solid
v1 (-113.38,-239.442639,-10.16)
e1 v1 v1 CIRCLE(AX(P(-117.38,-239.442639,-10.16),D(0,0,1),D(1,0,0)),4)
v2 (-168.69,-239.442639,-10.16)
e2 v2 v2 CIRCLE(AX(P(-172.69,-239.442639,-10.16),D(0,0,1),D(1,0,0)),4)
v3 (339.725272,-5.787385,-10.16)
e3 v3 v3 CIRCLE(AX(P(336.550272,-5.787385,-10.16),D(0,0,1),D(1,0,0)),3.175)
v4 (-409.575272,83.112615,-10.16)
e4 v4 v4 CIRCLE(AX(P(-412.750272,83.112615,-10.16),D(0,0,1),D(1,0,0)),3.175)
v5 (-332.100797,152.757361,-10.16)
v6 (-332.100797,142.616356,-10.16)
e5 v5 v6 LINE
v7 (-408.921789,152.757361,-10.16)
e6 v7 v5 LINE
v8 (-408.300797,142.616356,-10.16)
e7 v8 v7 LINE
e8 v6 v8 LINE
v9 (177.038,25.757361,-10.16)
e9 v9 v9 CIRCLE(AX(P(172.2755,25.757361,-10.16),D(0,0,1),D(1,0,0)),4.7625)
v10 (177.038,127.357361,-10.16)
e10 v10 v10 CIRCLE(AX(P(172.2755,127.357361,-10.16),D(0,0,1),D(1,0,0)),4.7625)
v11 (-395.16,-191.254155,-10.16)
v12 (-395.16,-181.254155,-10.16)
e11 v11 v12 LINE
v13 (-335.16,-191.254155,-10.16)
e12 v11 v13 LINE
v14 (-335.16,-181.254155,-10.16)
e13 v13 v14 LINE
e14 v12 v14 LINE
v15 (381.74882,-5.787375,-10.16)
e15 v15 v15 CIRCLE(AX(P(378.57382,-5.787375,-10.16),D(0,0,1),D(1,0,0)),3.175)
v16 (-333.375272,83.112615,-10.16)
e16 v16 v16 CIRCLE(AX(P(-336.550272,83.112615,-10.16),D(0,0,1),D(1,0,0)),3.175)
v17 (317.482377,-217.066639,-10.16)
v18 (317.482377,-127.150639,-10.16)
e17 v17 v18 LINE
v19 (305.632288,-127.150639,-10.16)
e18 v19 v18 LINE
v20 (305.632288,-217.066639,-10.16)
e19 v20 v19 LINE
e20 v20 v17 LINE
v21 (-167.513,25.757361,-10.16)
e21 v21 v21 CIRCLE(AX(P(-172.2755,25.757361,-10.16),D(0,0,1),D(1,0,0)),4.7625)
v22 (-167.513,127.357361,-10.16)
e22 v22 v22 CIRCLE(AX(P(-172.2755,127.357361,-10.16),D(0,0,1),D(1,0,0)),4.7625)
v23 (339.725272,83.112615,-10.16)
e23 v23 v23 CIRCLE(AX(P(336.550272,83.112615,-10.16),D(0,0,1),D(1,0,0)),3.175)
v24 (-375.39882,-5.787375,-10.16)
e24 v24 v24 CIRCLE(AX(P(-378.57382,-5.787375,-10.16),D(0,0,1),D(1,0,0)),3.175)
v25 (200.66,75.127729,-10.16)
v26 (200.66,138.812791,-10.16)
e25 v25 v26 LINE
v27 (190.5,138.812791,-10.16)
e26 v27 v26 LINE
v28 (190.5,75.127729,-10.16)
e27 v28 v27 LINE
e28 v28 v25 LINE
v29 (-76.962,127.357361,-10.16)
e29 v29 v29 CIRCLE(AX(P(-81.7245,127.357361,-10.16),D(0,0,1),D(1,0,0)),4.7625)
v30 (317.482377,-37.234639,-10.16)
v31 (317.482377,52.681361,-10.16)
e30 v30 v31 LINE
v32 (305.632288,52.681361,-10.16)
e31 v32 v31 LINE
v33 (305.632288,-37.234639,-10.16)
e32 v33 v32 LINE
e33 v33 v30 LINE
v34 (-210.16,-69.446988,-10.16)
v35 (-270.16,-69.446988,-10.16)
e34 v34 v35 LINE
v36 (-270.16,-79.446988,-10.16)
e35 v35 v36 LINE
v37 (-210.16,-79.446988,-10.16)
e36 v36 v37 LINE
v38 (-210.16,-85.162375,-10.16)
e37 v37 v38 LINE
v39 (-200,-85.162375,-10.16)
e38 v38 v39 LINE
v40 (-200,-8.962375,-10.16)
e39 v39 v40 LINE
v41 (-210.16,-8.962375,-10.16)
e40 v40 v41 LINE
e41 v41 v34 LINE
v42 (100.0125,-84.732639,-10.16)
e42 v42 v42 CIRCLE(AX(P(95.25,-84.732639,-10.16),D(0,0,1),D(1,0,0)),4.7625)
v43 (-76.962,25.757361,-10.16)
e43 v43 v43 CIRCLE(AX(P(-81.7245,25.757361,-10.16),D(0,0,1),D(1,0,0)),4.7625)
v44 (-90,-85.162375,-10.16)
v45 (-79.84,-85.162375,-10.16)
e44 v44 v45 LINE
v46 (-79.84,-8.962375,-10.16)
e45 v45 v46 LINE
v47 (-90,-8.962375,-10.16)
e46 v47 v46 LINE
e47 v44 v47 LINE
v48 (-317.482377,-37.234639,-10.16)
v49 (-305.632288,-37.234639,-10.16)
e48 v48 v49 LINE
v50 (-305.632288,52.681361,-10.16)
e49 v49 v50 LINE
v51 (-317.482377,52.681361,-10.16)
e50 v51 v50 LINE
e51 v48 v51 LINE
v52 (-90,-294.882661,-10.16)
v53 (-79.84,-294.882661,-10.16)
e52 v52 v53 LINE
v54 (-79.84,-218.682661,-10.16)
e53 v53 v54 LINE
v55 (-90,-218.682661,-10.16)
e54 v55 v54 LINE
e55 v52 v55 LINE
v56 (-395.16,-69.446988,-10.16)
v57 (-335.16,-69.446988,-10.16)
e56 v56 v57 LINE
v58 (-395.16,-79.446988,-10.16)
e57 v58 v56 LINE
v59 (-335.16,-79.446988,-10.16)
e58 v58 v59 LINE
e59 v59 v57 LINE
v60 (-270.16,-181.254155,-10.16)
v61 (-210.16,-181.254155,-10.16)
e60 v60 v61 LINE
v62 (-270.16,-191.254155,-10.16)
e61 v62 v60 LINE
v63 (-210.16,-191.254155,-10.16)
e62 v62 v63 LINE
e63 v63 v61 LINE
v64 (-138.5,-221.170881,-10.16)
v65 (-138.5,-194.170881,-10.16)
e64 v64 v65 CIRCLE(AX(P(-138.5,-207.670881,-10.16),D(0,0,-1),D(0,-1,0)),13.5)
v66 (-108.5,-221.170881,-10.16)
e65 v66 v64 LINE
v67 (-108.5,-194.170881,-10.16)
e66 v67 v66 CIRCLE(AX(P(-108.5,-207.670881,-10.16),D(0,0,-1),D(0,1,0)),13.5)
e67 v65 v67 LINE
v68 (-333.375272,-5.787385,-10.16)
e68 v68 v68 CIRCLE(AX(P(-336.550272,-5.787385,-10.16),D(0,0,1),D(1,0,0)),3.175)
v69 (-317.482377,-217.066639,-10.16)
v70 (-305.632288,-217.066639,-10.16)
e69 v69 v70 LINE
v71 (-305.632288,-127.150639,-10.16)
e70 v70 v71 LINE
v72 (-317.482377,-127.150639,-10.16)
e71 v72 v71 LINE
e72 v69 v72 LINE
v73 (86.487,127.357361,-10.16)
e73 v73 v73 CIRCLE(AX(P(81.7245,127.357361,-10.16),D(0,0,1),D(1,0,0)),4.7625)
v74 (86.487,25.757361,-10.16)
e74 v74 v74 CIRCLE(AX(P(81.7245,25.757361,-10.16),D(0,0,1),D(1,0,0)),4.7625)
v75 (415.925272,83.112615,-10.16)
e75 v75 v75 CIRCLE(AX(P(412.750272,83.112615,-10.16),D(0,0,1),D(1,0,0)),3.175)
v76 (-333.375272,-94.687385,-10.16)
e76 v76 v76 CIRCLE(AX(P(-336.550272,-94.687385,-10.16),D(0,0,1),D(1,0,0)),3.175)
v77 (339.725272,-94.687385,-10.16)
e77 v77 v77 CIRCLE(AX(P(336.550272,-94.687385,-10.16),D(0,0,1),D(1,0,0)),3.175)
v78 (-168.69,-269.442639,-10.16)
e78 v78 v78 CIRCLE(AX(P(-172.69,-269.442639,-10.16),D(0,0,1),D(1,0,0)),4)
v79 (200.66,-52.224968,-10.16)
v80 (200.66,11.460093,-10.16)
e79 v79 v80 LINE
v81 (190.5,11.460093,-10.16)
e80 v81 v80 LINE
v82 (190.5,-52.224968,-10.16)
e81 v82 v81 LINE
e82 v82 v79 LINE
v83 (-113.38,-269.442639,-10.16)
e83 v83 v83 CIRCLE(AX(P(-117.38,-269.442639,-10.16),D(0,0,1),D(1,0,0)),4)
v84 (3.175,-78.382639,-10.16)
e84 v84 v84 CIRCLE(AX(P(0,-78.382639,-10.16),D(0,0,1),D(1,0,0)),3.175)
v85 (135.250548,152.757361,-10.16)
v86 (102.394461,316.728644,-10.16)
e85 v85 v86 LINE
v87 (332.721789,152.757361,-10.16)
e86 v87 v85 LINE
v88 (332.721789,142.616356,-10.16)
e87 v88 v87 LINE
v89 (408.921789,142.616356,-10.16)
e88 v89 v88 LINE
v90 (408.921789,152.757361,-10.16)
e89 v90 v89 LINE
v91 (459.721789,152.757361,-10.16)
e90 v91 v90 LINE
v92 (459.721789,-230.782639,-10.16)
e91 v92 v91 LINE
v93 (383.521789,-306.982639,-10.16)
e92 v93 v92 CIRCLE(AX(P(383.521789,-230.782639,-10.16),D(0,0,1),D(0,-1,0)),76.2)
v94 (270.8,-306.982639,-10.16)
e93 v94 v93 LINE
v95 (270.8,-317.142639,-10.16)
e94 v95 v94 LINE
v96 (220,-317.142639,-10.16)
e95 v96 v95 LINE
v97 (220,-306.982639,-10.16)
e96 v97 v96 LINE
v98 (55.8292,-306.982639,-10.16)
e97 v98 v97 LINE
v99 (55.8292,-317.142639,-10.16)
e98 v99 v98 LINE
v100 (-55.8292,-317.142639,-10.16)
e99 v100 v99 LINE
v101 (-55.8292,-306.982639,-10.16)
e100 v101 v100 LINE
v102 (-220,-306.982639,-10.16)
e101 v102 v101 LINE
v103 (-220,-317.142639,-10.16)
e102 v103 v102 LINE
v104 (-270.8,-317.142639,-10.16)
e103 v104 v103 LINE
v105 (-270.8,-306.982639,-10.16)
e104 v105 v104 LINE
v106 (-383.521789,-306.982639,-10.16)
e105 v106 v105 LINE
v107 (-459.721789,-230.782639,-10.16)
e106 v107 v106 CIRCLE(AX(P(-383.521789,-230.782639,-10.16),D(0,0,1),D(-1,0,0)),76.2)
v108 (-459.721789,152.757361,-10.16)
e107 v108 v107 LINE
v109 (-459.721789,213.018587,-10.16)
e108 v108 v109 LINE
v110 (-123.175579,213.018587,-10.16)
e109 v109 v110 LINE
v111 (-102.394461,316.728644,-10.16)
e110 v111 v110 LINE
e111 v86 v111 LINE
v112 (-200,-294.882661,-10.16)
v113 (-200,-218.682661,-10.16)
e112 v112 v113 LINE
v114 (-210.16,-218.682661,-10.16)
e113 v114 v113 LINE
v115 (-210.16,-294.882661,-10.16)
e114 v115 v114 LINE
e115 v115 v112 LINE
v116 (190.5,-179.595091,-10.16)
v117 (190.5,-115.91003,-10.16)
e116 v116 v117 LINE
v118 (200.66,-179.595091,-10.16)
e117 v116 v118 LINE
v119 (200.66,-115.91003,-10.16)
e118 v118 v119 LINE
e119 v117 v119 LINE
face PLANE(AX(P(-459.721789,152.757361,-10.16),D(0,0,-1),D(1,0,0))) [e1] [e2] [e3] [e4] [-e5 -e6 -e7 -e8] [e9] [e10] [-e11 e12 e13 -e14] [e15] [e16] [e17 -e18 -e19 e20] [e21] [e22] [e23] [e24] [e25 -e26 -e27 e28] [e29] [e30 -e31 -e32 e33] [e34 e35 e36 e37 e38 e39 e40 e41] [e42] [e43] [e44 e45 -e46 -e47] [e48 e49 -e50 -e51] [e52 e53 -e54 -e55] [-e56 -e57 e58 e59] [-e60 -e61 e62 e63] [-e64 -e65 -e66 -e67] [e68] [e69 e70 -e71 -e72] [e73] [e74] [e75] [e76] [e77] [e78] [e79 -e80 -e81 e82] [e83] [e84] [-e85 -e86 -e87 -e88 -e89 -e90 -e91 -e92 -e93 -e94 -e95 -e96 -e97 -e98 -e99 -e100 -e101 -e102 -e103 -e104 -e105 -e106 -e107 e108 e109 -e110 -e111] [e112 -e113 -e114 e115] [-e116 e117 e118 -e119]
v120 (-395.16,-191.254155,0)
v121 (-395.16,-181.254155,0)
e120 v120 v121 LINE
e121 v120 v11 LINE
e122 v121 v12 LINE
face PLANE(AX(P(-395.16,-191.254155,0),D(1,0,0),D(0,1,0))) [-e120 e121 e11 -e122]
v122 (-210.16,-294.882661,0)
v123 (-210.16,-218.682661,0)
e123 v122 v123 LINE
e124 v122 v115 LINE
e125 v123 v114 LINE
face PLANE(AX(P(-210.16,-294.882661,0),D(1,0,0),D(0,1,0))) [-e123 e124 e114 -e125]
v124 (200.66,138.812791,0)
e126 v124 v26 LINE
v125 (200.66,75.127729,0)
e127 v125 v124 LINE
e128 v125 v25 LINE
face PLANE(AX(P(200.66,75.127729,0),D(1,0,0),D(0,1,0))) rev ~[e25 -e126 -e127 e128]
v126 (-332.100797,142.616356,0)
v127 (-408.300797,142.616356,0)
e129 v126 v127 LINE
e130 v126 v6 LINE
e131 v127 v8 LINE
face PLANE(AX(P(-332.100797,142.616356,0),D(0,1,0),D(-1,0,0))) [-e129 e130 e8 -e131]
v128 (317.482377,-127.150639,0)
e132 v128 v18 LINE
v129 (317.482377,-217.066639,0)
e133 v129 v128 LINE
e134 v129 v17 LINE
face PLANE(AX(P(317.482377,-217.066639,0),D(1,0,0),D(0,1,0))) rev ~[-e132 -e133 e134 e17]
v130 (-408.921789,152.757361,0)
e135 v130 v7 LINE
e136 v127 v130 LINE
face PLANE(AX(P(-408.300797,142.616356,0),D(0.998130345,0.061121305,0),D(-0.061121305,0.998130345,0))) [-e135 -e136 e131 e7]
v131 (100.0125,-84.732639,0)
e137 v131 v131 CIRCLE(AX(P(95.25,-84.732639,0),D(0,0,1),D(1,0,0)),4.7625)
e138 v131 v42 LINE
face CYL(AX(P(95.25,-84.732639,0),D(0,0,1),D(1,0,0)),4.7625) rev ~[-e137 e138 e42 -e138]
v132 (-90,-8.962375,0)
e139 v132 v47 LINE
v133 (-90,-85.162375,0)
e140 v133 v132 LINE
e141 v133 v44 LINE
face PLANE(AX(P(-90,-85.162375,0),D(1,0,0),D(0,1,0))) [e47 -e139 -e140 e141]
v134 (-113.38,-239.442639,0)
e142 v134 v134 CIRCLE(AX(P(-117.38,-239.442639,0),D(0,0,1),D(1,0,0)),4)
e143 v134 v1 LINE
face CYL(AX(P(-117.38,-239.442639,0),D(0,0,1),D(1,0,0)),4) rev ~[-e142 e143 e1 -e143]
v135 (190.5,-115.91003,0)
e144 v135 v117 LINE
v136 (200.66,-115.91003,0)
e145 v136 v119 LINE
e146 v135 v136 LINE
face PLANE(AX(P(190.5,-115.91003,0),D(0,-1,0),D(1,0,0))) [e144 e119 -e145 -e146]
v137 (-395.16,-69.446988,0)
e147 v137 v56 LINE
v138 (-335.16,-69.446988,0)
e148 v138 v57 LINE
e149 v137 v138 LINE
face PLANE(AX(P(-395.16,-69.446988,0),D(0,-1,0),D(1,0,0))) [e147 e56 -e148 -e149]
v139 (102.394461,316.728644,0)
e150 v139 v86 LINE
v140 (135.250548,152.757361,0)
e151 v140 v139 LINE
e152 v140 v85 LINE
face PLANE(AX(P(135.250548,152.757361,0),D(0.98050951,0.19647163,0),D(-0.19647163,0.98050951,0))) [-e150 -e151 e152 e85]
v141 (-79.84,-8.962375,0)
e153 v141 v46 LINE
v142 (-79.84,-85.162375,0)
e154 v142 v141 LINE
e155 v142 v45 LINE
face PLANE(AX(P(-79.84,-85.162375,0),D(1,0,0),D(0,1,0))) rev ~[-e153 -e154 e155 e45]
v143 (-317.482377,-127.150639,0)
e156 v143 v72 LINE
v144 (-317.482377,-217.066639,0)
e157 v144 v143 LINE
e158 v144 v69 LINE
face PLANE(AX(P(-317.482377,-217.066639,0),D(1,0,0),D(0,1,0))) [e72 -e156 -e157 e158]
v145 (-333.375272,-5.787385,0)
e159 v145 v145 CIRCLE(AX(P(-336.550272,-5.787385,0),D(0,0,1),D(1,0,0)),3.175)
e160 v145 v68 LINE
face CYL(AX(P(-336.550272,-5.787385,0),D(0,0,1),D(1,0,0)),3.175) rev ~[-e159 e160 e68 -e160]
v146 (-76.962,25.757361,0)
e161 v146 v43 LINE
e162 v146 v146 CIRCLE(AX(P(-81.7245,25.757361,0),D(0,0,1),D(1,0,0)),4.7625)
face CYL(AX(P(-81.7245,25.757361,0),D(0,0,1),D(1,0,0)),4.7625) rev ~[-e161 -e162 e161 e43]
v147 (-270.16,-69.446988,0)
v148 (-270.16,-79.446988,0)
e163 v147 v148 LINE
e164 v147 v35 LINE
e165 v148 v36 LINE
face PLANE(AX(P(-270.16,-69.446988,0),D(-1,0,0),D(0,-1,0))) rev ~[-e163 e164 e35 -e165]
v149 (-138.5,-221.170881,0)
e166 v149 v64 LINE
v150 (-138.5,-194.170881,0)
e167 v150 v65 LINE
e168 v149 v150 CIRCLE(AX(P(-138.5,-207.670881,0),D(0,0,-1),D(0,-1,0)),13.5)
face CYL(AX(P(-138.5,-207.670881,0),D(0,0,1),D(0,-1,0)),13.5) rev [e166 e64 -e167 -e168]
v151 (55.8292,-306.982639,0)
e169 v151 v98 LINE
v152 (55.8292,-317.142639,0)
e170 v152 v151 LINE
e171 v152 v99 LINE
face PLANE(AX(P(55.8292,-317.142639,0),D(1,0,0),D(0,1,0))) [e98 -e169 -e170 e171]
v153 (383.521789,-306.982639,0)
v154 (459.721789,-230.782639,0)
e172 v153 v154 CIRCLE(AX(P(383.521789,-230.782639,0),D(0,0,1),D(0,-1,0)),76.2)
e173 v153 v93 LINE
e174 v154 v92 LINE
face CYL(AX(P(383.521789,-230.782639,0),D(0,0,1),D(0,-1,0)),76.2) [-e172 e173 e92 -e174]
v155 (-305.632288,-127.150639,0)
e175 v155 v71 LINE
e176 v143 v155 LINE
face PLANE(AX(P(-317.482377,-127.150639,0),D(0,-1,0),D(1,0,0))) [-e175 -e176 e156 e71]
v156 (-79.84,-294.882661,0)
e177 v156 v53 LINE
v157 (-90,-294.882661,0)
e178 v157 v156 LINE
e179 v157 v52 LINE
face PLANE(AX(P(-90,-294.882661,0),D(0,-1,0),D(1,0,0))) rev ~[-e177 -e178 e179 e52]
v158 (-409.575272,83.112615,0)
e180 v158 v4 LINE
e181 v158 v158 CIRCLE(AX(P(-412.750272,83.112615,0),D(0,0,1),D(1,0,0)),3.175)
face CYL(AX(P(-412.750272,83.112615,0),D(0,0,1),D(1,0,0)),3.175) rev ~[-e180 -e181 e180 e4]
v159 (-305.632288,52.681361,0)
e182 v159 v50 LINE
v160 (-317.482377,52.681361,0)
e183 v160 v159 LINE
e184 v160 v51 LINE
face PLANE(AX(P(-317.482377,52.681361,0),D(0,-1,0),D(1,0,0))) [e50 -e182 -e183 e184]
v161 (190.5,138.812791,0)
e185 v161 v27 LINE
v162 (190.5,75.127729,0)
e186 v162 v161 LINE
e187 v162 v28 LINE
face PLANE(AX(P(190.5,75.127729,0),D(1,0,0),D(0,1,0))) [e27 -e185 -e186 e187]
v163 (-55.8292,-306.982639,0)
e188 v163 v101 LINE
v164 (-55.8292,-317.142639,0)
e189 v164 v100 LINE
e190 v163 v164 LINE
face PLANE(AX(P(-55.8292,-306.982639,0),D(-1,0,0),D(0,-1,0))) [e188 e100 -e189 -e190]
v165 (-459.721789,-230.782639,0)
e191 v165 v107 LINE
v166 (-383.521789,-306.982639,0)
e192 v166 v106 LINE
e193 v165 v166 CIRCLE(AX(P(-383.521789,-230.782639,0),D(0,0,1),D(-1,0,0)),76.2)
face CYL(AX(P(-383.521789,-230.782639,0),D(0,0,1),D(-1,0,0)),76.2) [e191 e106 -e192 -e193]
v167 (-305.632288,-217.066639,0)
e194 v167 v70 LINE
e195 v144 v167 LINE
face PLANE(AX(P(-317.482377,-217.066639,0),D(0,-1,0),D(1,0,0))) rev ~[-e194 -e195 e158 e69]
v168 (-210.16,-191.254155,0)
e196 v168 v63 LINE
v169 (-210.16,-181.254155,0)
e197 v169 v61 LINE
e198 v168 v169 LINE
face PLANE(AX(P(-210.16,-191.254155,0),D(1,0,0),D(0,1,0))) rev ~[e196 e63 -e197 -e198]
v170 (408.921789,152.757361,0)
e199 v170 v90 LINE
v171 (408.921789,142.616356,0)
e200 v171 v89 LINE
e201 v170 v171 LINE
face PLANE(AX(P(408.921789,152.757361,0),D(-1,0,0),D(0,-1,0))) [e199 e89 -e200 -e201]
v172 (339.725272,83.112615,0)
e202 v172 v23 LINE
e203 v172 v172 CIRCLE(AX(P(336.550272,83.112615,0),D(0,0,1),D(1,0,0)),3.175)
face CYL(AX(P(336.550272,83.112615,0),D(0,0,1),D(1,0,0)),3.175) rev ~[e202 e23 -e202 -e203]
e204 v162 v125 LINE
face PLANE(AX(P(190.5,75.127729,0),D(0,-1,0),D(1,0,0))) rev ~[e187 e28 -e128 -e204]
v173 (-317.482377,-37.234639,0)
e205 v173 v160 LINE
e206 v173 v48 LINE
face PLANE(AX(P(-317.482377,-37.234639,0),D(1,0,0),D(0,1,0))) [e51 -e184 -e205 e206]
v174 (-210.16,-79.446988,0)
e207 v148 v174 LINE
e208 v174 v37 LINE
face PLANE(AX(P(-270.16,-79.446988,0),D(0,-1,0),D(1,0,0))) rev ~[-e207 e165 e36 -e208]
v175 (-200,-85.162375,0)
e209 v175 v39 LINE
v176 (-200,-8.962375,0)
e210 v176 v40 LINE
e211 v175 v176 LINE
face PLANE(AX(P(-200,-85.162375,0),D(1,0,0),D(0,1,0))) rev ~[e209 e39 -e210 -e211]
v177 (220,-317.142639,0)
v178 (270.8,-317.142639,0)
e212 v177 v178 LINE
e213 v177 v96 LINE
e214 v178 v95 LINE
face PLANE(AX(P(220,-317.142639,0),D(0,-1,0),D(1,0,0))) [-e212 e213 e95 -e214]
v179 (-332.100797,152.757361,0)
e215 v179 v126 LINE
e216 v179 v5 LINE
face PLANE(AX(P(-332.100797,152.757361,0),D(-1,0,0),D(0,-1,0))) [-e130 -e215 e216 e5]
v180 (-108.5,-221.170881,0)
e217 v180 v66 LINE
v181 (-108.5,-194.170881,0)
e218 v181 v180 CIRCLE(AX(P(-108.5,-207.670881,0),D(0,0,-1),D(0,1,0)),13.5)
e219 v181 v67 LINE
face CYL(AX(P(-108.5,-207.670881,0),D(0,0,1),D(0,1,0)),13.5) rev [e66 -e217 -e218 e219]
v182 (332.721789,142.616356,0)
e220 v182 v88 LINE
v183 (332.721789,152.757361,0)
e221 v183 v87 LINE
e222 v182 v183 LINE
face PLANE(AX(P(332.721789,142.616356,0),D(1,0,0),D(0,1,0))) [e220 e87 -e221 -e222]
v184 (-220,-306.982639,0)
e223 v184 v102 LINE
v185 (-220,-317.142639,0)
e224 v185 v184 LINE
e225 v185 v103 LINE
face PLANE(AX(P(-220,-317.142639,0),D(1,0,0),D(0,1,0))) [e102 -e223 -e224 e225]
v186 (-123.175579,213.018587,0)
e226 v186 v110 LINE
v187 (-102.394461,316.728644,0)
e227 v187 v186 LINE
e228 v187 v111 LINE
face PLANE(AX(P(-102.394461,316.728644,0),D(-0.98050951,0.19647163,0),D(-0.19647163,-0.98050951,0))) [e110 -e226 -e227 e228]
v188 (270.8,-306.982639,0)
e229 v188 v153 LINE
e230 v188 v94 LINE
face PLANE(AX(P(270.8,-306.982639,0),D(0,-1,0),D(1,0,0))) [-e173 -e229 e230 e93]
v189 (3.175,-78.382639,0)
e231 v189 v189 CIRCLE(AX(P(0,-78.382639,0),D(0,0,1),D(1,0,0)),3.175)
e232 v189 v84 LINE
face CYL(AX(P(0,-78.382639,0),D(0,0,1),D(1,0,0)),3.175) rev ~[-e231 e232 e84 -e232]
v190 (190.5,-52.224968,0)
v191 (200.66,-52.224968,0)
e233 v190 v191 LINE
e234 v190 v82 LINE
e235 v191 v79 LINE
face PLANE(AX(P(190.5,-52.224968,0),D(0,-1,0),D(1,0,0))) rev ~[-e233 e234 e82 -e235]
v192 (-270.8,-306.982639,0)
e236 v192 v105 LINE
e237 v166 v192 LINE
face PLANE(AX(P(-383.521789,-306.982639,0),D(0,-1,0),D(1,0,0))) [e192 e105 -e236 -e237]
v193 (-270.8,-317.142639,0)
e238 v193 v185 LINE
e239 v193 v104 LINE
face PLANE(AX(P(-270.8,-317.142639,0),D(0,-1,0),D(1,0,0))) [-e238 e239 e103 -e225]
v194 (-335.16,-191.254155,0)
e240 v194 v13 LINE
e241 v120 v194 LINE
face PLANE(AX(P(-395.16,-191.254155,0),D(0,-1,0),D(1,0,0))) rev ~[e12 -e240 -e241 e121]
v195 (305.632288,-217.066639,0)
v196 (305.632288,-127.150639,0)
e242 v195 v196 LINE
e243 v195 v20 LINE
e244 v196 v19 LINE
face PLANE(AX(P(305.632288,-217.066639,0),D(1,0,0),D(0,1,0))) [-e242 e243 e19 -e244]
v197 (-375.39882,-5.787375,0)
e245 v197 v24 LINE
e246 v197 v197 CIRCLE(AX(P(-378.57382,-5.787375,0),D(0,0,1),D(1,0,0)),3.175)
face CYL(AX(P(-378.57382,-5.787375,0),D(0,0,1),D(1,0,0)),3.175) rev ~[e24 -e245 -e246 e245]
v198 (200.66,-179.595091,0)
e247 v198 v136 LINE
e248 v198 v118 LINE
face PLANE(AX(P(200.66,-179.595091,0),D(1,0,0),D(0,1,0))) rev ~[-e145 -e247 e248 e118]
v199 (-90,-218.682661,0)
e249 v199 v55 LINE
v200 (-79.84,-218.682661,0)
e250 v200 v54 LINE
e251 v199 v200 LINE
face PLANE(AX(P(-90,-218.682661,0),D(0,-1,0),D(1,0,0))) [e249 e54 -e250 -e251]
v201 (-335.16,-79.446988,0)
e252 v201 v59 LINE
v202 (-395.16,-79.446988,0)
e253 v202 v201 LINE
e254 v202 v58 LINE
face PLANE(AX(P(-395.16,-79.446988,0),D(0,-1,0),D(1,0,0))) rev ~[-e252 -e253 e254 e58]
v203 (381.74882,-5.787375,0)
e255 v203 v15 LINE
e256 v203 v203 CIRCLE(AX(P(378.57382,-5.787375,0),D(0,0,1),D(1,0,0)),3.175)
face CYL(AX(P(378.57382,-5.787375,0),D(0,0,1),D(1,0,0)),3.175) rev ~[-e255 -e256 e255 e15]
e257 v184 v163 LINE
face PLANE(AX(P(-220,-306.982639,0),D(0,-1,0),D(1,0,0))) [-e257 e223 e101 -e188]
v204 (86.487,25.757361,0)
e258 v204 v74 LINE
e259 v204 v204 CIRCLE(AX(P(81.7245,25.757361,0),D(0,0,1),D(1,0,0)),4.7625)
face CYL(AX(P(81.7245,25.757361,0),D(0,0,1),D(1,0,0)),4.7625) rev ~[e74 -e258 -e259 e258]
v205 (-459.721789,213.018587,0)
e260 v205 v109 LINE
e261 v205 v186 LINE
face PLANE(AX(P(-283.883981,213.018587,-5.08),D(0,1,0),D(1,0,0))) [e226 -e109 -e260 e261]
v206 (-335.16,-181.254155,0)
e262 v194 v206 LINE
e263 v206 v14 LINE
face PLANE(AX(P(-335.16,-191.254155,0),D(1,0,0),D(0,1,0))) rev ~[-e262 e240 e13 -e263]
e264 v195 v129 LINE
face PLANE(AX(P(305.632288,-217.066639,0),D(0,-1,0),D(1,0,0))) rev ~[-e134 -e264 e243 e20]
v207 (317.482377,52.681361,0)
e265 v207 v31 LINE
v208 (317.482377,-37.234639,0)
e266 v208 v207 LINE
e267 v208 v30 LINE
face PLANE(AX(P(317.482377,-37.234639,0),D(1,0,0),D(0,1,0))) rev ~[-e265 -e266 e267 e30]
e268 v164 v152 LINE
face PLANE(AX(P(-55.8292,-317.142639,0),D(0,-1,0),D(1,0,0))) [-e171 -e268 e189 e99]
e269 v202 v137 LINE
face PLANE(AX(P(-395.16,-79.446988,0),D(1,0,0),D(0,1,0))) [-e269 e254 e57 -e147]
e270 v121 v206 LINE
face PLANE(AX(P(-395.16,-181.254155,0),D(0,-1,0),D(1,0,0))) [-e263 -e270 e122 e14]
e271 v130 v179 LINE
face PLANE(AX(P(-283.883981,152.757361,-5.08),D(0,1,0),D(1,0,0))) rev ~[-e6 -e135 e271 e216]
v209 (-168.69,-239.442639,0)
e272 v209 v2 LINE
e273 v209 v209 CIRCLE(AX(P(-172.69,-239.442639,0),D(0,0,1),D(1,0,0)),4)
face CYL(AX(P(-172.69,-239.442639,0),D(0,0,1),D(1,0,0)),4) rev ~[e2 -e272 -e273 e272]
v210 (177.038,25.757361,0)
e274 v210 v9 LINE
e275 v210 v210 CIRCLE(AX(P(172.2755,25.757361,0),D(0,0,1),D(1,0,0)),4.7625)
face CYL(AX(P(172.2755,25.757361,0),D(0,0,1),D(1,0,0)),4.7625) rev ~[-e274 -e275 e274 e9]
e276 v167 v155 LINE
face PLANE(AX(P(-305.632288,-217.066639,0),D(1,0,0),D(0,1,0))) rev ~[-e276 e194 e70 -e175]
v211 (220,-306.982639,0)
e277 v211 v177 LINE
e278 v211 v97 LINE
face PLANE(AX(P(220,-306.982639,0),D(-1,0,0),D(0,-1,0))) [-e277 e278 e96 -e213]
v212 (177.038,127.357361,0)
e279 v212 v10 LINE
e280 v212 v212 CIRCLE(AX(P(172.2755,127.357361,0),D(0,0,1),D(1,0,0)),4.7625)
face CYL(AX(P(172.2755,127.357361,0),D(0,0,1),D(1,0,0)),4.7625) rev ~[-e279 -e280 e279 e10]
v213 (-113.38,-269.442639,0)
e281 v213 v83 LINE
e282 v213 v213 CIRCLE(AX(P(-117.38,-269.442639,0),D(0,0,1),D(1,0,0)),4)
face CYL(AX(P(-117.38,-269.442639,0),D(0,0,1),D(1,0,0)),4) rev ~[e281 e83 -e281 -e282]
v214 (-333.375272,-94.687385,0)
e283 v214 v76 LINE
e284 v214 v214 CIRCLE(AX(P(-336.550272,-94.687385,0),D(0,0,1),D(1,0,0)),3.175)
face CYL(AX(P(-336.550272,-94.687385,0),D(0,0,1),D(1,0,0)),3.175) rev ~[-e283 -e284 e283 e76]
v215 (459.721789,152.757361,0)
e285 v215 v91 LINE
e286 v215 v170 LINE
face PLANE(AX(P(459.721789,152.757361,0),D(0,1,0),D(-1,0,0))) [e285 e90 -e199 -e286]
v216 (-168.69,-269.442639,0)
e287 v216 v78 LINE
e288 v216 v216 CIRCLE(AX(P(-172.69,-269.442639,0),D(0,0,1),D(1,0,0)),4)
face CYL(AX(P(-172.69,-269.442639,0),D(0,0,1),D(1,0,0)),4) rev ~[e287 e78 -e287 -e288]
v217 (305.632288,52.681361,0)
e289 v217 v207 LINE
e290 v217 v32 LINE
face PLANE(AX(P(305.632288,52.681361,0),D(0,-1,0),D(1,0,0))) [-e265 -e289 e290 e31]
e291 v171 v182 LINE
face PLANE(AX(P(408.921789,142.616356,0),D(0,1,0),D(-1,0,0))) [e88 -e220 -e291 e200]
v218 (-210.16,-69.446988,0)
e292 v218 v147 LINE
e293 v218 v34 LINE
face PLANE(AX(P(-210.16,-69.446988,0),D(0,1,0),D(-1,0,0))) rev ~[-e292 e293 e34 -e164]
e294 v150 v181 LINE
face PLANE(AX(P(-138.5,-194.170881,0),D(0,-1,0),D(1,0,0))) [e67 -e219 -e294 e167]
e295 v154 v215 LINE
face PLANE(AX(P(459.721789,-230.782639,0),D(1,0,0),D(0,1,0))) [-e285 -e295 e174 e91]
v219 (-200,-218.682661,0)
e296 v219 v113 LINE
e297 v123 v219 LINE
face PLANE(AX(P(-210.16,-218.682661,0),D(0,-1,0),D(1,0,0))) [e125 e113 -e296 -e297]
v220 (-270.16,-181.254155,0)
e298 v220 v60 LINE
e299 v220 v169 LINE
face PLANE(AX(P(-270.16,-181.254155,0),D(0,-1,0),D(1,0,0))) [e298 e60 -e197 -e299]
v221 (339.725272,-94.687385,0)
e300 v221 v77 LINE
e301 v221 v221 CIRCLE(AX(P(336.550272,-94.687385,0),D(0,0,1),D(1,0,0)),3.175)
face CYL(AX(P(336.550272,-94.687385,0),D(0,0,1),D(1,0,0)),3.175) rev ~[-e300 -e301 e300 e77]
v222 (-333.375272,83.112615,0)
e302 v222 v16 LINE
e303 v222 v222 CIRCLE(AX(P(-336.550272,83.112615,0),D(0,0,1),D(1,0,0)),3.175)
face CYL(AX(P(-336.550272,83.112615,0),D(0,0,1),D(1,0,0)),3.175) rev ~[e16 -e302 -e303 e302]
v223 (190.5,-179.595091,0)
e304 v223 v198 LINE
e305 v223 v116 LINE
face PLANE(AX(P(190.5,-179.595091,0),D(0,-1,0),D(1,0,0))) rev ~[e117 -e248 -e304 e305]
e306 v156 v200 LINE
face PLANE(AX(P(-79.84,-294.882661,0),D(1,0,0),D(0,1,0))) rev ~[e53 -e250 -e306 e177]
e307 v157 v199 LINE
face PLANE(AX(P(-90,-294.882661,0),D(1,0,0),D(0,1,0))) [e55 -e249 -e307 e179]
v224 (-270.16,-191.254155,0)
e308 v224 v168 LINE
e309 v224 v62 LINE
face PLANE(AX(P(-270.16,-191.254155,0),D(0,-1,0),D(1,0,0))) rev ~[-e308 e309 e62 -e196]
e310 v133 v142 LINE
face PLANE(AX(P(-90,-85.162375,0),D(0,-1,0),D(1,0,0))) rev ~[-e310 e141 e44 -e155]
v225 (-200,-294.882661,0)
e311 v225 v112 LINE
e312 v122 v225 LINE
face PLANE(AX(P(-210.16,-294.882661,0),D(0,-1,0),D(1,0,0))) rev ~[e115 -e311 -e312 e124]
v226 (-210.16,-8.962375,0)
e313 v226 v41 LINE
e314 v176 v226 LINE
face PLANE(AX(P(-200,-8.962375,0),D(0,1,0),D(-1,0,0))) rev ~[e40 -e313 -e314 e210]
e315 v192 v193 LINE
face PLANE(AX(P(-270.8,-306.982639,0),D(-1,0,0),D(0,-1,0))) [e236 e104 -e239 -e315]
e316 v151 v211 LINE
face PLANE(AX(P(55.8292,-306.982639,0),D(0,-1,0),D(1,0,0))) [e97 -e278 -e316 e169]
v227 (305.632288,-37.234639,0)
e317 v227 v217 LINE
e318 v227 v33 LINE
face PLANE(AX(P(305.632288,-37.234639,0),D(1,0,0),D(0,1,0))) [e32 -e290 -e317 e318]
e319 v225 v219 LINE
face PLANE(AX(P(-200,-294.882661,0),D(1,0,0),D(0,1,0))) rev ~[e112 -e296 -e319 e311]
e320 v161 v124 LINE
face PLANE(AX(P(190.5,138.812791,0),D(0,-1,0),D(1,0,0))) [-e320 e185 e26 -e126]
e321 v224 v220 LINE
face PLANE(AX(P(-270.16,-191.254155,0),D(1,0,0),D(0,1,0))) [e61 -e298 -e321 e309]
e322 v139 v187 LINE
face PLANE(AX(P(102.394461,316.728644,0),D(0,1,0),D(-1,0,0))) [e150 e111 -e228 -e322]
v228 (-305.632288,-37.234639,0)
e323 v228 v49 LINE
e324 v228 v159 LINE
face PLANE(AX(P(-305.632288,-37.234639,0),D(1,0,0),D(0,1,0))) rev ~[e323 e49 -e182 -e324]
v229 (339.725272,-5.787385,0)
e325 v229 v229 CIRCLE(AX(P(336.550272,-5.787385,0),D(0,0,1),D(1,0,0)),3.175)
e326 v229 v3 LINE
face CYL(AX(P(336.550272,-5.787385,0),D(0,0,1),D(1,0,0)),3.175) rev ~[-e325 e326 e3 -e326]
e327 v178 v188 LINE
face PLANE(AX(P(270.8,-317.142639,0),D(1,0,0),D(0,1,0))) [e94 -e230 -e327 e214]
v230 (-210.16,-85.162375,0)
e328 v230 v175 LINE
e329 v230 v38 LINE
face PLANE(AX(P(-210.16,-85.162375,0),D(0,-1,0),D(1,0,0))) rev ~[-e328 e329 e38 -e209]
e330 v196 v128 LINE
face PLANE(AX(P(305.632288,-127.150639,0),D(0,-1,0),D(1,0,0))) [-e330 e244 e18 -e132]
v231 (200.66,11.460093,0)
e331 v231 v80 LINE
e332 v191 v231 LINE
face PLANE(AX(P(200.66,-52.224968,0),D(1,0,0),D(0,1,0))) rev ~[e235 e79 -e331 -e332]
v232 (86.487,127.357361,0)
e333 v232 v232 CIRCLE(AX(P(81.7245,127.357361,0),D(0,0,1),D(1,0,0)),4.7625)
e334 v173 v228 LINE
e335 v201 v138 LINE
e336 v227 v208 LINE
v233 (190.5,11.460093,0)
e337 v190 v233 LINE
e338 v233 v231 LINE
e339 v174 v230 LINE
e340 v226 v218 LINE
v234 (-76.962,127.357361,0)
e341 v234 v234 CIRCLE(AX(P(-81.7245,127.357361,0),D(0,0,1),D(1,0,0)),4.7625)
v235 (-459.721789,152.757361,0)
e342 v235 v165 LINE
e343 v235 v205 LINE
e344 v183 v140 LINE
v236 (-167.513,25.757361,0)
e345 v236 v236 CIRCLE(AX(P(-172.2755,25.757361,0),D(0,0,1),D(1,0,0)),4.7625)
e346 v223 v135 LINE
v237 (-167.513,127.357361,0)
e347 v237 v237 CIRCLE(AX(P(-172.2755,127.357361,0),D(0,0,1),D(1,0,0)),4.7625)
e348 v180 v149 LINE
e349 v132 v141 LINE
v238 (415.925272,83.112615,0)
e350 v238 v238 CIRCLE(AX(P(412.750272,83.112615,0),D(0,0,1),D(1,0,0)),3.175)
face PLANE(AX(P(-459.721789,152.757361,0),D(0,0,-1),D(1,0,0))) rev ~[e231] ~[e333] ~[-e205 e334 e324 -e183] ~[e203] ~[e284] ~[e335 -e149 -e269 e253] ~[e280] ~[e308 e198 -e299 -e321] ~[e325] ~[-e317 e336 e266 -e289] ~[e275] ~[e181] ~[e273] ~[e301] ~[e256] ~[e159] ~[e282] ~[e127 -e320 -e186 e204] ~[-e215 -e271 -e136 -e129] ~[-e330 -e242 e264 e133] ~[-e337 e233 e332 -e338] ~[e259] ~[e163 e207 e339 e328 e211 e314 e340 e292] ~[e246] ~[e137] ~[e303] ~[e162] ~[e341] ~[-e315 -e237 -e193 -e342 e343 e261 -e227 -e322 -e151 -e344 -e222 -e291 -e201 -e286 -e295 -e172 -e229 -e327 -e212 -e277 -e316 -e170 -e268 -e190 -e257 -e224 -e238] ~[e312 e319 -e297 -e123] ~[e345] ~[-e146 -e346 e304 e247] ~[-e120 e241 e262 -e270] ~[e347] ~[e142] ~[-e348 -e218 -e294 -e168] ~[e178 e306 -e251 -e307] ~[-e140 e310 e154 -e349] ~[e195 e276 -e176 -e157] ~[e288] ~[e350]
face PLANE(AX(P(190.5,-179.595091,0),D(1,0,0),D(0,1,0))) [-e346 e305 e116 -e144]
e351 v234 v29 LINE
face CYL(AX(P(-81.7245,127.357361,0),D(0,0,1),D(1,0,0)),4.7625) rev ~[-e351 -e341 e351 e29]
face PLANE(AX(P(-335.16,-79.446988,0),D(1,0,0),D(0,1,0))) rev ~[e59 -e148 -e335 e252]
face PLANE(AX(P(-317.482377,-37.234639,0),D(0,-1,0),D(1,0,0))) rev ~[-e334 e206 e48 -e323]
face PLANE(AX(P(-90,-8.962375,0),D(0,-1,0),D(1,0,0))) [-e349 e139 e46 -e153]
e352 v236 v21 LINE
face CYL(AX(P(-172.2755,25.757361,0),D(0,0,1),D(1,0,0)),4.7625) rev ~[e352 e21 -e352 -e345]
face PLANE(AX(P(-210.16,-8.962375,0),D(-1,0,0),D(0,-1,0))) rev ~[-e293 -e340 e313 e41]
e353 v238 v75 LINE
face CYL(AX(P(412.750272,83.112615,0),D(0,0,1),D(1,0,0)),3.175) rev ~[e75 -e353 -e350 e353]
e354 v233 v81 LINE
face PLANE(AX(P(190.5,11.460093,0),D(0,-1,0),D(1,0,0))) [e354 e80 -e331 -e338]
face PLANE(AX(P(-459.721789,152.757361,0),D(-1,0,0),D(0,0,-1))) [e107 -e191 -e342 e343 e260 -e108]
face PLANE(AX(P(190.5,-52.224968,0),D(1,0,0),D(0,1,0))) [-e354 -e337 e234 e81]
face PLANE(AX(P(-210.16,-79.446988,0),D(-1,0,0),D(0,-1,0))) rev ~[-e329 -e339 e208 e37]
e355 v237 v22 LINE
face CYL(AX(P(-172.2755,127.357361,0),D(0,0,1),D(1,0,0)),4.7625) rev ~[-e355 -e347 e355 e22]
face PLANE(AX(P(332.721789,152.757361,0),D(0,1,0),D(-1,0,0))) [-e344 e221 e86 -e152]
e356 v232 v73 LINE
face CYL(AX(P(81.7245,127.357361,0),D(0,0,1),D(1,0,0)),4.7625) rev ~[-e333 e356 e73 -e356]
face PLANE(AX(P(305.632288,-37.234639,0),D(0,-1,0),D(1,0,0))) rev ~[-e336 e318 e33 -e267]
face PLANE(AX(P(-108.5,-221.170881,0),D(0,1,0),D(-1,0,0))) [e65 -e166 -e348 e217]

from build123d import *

# Parameters (mm, degrees)
SKETCH2_R           = 3.175
SKETCH2_R_2         = 4.7625
SKETCH2_R_3         = 4
SKETCH2_W           = 11.850089675
SKETCH2_H           = 89.916
SKETCH2_W_2         = 60
SKETCH2_H_2         = 10
SKETCH2_W_3         = 10.16
SKETCH2_H_3         = 63.685061478
SKETCH2_H_4         = 63.685061479
SKETCH2_H_5         = 76.2
BOSS_EXTRUDE1_DEPTH = 10.16
SKETCH4_W           = 351.675616699
SKETCH4_H           = 10.16
BOSS_EXTRUDE2_DEPTH = 60.261226


with BuildPart() as part:
    # Sketch2 → Boss-Extrude1 (new body)
    with BuildSketch(Plane.XY):
        with BuildLine():
            Line((-408.921789204, 152.75736057), (-459.721789204, 152.75736057))
            Line((-459.721789204, 152.75736057), (-459.721789204, -230.782639429))
            ThreePointArc((-459.721789204, -230.782639429), (-437.403325931, -284.664176156), (-383.521789204, -306.982639429))
            Line((-383.521789204, -306.982639429), (-303.52, -306.982639429))
            Line((-303.52, -306.982639429), (-270.8, -306.982639429))
            Line((-270.8, -306.982639429), (-270.8, -317.142639429))
            Line((-270.8, -317.142639429), (-220, -317.142639429))
            Line((-220, -317.142639429), (-220, -306.982639429))
            Line((-220, -306.982639429), (-55.8292, -306.982639429))
            Line((-55.8292, -306.982639429), (-55.8292, -317.142639429))
            Line((-55.8292, -317.142639429), (55.8292, -317.142639429))
            Line((55.8292, -317.142639429), (55.8292, -306.982639429))
            Line((55.8292, -306.982639429), (220, -306.982639429))
            Line((220, -306.982639429), (220, -317.142639429))
            Line((220, -317.142639429), (270.8, -317.142639429))
            Line((270.8, -317.142639429), (270.8, -306.982639429))
            Line((270.8, -306.982639429), (303.52, -306.982639429))
            Line((303.52, -306.982639429), (383.521789204, -306.982639429))
            ThreePointArc((383.521789204, -306.982639429), (437.403325931, -284.664176156), (459.721789204, -230.782639429))
            Line((459.721789204, -230.782639429), (459.721789204, 152.75736057))
            Line((459.721789204, 152.75736057), (408.921789204, 152.75736057))
            Line((408.921789204, 152.75736057), (408.921789204, 142.616356263))
            Line((408.921789204, 142.616356263), (332.721789204, 142.616356263))
            Line((332.721789204, 142.616356263), (332.721789204, 152.75736057))
            Line((332.721789204, 152.75736057), (135.250547773, 152.75736057))
            Line((135.250547773, 152.75736057), (102.394461083, 316.728644457))
            Line((102.394461083, 316.728644457), (-102.394461083, 316.728644457))
            Line((-102.394461083, 316.728644457), (-135.250547773, 152.75736057))
            Line((-135.250547773, 152.75736057), (-332.100796745, 152.75736057))
            Line((-332.100796745, 152.75736057), (-332.100796745, 142.616356263))
            Line((-332.100796745, 142.616356263), (-408.300796745, 142.616356263))
            Line((-408.300796745, 142.616356263), (-408.921789204, 152.75736057))
        make_face()
        with Locations((336.550272189, -94.687385458)):
            Circle(SKETCH2_R, mode=Mode.SUBTRACT)
        with Locations((378.573819589, -5.78737531)):
            Circle(SKETCH2_R, mode=Mode.SUBTRACT)
        with Locations((336.550272189, -5.787385458)):
            Circle(SKETCH2_R, mode=Mode.SUBTRACT)
        with Locations((336.550272189, 83.112614542)):
            Circle(SKETCH2_R, mode=Mode.SUBTRACT)
        with Locations((412.750272189, 83.112614542)):
            Circle(SKETCH2_R, mode=Mode.SUBTRACT)
        with Locations((-412.75027219, 83.112614542)):
            Circle(SKETCH2_R, mode=Mode.SUBTRACT)
        with Locations((-336.55027219, 83.112614542)):
            Circle(SKETCH2_R, mode=Mode.SUBTRACT)
        with Locations((-336.55027219, -5.787385458)):
            Circle(SKETCH2_R, mode=Mode.SUBTRACT)
        with Locations((-378.573819589, -5.78737531)):
            Circle(SKETCH2_R, mode=Mode.SUBTRACT)
        with Locations((-336.55027219, -94.687385458)):
            Circle(SKETCH2_R, mode=Mode.SUBTRACT)
        with Locations((172.2755, 127.35736057)):
            Circle(SKETCH2_R_2, mode=Mode.SUBTRACT)
        with Locations((172.2755, 25.75736057)):
            Circle(SKETCH2_R_2, mode=Mode.SUBTRACT)
        with Locations((81.7245, 25.75736057)):
            Circle(SKETCH2_R_2, mode=Mode.SUBTRACT)
        with Locations((81.7245, 127.35736057)):
            Circle(SKETCH2_R_2, mode=Mode.SUBTRACT)
        with Locations((-81.7245, 25.75736057)):
            Circle(SKETCH2_R_2, mode=Mode.SUBTRACT)
        with Locations((-81.7245, 127.35736057)):
            Circle(SKETCH2_R_2, mode=Mode.SUBTRACT)
        with Locations((-172.2755, 127.35736057)):
            Circle(SKETCH2_R_2, mode=Mode.SUBTRACT)
        with Locations((-172.2755, 25.75736057)):
            Circle(SKETCH2_R_2, mode=Mode.SUBTRACT)
        with Locations((0, -78.38263943)):
            Circle(SKETCH2_R, mode=Mode.SUBTRACT)
        with Locations((95.25, -84.73263943)):
            Circle(SKETCH2_R_2, mode=Mode.SUBTRACT)
        with Locations((-172.69, -239.442639429)):
            Circle(SKETCH2_R_3, mode=Mode.SUBTRACT)
        with Locations((-117.38, -239.442639429)):
            Circle(SKETCH2_R_3, mode=Mode.SUBTRACT)
        with Locations((-117.38, -269.442639429)):
            Circle(SKETCH2_R_3, mode=Mode.SUBTRACT)
        with Locations((-172.69, -269.442639429)):
            Circle(SKETCH2_R_3, mode=Mode.SUBTRACT)
        with Locations((311.557332494, 7.72336057)):
            Rectangle(SKETCH2_W, SKETCH2_H, mode=Mode.SUBTRACT)
        with Locations((311.557332494, -172.10863943)):
            Rectangle(SKETCH2_W, SKETCH2_H, mode=Mode.SUBTRACT)
        with Locations((-365.16, -74.446988355)):
            Rectangle(SKETCH2_W_2, SKETCH2_H_2, mode=Mode.SUBTRACT)
        Polygon((-270.16, -79.446988355), (-210.16, -79.446988355), (-210.16, -85.16237531), (-200, -85.16237531), (-200, -8.96237531), (-210.16, -8.96237531), (-210.16, -69.446988355), (-270.16, -69.446988355), align=None, mode=Mode.SUBTRACT)
        with Locations((195.58, -147.752560311)):
            Rectangle(SKETCH2_W_3, SKETCH2_H_3, mode=Mode.SUBTRACT)
        with Locations((195.58, -20.382437355)):
            Rectangle(SKETCH2_W_3, SKETCH2_H_4, mode=Mode.SUBTRACT)
        with Locations((195.58, 106.97026018)):
            Rectangle(SKETCH2_W_3, SKETCH2_H_4, mode=Mode.SUBTRACT)
        with Locations((-205.08, -256.782661115)):
            Rectangle(SKETCH2_W_3, SKETCH2_H_5, mode=Mode.SUBTRACT)
        with Locations((-240.16, -186.254154613)):
            Rectangle(SKETCH2_W_2, SKETCH2_H_2, mode=Mode.SUBTRACT)
        with Locations((-365.16, -186.254154613)):
            Rectangle(SKETCH2_W_2, SKETCH2_H_2, mode=Mode.SUBTRACT)
        with Locations((-311.557332494, -172.10863943)):
            Rectangle(SKETCH2_W, SKETCH2_H, mode=Mode.SUBTRACT)
        with Locations((-84.92, -256.782661115)):
            Rectangle(SKETCH2_W_3, SKETCH2_H_5, mode=Mode.SUBTRACT)
        with Locations((-84.92, -47.06237531)):
            Rectangle(SKETCH2_W_3, SKETCH2_H_5, mode=Mode.SUBTRACT)
        with Locations((-311.557332494, 7.72336057)):
            Rectangle(SKETCH2_W, SKETCH2_H, mode=Mode.SUBTRACT)
        with BuildLine():
            Line((-108.5, -221.170881029), (-138.5, -221.170881029))
            ThreePointArc((-138.5, -221.170881029), (-152, -207.670881029), (-138.5, -194.170881029))
            Line((-138.5, -194.170881029), (-108.5, -194.170881029))
            ThreePointArc((-108.5, -194.170881029), (-95, -207.670881029), (-108.5, -221.170881029))
        make_face(mode=Mode.SUBTRACT)
    extrude(amount=-BOSS_EXTRUDE1_DEPTH)

    # Sketch4 → Boss-Extrude2 (add)
    with BuildSketch(Plane(origin=(0, 152.75736057, 0), x_dir=(1, 0, 0), z_dir=(0, 1, 0))):
        with Locations((-283.883980855, 5.08)):
            Rectangle(SKETCH4_W, SKETCH4_H)
    extrude(amount=BOSS_EXTRUDE2_DEPTH)


solid = part.part
